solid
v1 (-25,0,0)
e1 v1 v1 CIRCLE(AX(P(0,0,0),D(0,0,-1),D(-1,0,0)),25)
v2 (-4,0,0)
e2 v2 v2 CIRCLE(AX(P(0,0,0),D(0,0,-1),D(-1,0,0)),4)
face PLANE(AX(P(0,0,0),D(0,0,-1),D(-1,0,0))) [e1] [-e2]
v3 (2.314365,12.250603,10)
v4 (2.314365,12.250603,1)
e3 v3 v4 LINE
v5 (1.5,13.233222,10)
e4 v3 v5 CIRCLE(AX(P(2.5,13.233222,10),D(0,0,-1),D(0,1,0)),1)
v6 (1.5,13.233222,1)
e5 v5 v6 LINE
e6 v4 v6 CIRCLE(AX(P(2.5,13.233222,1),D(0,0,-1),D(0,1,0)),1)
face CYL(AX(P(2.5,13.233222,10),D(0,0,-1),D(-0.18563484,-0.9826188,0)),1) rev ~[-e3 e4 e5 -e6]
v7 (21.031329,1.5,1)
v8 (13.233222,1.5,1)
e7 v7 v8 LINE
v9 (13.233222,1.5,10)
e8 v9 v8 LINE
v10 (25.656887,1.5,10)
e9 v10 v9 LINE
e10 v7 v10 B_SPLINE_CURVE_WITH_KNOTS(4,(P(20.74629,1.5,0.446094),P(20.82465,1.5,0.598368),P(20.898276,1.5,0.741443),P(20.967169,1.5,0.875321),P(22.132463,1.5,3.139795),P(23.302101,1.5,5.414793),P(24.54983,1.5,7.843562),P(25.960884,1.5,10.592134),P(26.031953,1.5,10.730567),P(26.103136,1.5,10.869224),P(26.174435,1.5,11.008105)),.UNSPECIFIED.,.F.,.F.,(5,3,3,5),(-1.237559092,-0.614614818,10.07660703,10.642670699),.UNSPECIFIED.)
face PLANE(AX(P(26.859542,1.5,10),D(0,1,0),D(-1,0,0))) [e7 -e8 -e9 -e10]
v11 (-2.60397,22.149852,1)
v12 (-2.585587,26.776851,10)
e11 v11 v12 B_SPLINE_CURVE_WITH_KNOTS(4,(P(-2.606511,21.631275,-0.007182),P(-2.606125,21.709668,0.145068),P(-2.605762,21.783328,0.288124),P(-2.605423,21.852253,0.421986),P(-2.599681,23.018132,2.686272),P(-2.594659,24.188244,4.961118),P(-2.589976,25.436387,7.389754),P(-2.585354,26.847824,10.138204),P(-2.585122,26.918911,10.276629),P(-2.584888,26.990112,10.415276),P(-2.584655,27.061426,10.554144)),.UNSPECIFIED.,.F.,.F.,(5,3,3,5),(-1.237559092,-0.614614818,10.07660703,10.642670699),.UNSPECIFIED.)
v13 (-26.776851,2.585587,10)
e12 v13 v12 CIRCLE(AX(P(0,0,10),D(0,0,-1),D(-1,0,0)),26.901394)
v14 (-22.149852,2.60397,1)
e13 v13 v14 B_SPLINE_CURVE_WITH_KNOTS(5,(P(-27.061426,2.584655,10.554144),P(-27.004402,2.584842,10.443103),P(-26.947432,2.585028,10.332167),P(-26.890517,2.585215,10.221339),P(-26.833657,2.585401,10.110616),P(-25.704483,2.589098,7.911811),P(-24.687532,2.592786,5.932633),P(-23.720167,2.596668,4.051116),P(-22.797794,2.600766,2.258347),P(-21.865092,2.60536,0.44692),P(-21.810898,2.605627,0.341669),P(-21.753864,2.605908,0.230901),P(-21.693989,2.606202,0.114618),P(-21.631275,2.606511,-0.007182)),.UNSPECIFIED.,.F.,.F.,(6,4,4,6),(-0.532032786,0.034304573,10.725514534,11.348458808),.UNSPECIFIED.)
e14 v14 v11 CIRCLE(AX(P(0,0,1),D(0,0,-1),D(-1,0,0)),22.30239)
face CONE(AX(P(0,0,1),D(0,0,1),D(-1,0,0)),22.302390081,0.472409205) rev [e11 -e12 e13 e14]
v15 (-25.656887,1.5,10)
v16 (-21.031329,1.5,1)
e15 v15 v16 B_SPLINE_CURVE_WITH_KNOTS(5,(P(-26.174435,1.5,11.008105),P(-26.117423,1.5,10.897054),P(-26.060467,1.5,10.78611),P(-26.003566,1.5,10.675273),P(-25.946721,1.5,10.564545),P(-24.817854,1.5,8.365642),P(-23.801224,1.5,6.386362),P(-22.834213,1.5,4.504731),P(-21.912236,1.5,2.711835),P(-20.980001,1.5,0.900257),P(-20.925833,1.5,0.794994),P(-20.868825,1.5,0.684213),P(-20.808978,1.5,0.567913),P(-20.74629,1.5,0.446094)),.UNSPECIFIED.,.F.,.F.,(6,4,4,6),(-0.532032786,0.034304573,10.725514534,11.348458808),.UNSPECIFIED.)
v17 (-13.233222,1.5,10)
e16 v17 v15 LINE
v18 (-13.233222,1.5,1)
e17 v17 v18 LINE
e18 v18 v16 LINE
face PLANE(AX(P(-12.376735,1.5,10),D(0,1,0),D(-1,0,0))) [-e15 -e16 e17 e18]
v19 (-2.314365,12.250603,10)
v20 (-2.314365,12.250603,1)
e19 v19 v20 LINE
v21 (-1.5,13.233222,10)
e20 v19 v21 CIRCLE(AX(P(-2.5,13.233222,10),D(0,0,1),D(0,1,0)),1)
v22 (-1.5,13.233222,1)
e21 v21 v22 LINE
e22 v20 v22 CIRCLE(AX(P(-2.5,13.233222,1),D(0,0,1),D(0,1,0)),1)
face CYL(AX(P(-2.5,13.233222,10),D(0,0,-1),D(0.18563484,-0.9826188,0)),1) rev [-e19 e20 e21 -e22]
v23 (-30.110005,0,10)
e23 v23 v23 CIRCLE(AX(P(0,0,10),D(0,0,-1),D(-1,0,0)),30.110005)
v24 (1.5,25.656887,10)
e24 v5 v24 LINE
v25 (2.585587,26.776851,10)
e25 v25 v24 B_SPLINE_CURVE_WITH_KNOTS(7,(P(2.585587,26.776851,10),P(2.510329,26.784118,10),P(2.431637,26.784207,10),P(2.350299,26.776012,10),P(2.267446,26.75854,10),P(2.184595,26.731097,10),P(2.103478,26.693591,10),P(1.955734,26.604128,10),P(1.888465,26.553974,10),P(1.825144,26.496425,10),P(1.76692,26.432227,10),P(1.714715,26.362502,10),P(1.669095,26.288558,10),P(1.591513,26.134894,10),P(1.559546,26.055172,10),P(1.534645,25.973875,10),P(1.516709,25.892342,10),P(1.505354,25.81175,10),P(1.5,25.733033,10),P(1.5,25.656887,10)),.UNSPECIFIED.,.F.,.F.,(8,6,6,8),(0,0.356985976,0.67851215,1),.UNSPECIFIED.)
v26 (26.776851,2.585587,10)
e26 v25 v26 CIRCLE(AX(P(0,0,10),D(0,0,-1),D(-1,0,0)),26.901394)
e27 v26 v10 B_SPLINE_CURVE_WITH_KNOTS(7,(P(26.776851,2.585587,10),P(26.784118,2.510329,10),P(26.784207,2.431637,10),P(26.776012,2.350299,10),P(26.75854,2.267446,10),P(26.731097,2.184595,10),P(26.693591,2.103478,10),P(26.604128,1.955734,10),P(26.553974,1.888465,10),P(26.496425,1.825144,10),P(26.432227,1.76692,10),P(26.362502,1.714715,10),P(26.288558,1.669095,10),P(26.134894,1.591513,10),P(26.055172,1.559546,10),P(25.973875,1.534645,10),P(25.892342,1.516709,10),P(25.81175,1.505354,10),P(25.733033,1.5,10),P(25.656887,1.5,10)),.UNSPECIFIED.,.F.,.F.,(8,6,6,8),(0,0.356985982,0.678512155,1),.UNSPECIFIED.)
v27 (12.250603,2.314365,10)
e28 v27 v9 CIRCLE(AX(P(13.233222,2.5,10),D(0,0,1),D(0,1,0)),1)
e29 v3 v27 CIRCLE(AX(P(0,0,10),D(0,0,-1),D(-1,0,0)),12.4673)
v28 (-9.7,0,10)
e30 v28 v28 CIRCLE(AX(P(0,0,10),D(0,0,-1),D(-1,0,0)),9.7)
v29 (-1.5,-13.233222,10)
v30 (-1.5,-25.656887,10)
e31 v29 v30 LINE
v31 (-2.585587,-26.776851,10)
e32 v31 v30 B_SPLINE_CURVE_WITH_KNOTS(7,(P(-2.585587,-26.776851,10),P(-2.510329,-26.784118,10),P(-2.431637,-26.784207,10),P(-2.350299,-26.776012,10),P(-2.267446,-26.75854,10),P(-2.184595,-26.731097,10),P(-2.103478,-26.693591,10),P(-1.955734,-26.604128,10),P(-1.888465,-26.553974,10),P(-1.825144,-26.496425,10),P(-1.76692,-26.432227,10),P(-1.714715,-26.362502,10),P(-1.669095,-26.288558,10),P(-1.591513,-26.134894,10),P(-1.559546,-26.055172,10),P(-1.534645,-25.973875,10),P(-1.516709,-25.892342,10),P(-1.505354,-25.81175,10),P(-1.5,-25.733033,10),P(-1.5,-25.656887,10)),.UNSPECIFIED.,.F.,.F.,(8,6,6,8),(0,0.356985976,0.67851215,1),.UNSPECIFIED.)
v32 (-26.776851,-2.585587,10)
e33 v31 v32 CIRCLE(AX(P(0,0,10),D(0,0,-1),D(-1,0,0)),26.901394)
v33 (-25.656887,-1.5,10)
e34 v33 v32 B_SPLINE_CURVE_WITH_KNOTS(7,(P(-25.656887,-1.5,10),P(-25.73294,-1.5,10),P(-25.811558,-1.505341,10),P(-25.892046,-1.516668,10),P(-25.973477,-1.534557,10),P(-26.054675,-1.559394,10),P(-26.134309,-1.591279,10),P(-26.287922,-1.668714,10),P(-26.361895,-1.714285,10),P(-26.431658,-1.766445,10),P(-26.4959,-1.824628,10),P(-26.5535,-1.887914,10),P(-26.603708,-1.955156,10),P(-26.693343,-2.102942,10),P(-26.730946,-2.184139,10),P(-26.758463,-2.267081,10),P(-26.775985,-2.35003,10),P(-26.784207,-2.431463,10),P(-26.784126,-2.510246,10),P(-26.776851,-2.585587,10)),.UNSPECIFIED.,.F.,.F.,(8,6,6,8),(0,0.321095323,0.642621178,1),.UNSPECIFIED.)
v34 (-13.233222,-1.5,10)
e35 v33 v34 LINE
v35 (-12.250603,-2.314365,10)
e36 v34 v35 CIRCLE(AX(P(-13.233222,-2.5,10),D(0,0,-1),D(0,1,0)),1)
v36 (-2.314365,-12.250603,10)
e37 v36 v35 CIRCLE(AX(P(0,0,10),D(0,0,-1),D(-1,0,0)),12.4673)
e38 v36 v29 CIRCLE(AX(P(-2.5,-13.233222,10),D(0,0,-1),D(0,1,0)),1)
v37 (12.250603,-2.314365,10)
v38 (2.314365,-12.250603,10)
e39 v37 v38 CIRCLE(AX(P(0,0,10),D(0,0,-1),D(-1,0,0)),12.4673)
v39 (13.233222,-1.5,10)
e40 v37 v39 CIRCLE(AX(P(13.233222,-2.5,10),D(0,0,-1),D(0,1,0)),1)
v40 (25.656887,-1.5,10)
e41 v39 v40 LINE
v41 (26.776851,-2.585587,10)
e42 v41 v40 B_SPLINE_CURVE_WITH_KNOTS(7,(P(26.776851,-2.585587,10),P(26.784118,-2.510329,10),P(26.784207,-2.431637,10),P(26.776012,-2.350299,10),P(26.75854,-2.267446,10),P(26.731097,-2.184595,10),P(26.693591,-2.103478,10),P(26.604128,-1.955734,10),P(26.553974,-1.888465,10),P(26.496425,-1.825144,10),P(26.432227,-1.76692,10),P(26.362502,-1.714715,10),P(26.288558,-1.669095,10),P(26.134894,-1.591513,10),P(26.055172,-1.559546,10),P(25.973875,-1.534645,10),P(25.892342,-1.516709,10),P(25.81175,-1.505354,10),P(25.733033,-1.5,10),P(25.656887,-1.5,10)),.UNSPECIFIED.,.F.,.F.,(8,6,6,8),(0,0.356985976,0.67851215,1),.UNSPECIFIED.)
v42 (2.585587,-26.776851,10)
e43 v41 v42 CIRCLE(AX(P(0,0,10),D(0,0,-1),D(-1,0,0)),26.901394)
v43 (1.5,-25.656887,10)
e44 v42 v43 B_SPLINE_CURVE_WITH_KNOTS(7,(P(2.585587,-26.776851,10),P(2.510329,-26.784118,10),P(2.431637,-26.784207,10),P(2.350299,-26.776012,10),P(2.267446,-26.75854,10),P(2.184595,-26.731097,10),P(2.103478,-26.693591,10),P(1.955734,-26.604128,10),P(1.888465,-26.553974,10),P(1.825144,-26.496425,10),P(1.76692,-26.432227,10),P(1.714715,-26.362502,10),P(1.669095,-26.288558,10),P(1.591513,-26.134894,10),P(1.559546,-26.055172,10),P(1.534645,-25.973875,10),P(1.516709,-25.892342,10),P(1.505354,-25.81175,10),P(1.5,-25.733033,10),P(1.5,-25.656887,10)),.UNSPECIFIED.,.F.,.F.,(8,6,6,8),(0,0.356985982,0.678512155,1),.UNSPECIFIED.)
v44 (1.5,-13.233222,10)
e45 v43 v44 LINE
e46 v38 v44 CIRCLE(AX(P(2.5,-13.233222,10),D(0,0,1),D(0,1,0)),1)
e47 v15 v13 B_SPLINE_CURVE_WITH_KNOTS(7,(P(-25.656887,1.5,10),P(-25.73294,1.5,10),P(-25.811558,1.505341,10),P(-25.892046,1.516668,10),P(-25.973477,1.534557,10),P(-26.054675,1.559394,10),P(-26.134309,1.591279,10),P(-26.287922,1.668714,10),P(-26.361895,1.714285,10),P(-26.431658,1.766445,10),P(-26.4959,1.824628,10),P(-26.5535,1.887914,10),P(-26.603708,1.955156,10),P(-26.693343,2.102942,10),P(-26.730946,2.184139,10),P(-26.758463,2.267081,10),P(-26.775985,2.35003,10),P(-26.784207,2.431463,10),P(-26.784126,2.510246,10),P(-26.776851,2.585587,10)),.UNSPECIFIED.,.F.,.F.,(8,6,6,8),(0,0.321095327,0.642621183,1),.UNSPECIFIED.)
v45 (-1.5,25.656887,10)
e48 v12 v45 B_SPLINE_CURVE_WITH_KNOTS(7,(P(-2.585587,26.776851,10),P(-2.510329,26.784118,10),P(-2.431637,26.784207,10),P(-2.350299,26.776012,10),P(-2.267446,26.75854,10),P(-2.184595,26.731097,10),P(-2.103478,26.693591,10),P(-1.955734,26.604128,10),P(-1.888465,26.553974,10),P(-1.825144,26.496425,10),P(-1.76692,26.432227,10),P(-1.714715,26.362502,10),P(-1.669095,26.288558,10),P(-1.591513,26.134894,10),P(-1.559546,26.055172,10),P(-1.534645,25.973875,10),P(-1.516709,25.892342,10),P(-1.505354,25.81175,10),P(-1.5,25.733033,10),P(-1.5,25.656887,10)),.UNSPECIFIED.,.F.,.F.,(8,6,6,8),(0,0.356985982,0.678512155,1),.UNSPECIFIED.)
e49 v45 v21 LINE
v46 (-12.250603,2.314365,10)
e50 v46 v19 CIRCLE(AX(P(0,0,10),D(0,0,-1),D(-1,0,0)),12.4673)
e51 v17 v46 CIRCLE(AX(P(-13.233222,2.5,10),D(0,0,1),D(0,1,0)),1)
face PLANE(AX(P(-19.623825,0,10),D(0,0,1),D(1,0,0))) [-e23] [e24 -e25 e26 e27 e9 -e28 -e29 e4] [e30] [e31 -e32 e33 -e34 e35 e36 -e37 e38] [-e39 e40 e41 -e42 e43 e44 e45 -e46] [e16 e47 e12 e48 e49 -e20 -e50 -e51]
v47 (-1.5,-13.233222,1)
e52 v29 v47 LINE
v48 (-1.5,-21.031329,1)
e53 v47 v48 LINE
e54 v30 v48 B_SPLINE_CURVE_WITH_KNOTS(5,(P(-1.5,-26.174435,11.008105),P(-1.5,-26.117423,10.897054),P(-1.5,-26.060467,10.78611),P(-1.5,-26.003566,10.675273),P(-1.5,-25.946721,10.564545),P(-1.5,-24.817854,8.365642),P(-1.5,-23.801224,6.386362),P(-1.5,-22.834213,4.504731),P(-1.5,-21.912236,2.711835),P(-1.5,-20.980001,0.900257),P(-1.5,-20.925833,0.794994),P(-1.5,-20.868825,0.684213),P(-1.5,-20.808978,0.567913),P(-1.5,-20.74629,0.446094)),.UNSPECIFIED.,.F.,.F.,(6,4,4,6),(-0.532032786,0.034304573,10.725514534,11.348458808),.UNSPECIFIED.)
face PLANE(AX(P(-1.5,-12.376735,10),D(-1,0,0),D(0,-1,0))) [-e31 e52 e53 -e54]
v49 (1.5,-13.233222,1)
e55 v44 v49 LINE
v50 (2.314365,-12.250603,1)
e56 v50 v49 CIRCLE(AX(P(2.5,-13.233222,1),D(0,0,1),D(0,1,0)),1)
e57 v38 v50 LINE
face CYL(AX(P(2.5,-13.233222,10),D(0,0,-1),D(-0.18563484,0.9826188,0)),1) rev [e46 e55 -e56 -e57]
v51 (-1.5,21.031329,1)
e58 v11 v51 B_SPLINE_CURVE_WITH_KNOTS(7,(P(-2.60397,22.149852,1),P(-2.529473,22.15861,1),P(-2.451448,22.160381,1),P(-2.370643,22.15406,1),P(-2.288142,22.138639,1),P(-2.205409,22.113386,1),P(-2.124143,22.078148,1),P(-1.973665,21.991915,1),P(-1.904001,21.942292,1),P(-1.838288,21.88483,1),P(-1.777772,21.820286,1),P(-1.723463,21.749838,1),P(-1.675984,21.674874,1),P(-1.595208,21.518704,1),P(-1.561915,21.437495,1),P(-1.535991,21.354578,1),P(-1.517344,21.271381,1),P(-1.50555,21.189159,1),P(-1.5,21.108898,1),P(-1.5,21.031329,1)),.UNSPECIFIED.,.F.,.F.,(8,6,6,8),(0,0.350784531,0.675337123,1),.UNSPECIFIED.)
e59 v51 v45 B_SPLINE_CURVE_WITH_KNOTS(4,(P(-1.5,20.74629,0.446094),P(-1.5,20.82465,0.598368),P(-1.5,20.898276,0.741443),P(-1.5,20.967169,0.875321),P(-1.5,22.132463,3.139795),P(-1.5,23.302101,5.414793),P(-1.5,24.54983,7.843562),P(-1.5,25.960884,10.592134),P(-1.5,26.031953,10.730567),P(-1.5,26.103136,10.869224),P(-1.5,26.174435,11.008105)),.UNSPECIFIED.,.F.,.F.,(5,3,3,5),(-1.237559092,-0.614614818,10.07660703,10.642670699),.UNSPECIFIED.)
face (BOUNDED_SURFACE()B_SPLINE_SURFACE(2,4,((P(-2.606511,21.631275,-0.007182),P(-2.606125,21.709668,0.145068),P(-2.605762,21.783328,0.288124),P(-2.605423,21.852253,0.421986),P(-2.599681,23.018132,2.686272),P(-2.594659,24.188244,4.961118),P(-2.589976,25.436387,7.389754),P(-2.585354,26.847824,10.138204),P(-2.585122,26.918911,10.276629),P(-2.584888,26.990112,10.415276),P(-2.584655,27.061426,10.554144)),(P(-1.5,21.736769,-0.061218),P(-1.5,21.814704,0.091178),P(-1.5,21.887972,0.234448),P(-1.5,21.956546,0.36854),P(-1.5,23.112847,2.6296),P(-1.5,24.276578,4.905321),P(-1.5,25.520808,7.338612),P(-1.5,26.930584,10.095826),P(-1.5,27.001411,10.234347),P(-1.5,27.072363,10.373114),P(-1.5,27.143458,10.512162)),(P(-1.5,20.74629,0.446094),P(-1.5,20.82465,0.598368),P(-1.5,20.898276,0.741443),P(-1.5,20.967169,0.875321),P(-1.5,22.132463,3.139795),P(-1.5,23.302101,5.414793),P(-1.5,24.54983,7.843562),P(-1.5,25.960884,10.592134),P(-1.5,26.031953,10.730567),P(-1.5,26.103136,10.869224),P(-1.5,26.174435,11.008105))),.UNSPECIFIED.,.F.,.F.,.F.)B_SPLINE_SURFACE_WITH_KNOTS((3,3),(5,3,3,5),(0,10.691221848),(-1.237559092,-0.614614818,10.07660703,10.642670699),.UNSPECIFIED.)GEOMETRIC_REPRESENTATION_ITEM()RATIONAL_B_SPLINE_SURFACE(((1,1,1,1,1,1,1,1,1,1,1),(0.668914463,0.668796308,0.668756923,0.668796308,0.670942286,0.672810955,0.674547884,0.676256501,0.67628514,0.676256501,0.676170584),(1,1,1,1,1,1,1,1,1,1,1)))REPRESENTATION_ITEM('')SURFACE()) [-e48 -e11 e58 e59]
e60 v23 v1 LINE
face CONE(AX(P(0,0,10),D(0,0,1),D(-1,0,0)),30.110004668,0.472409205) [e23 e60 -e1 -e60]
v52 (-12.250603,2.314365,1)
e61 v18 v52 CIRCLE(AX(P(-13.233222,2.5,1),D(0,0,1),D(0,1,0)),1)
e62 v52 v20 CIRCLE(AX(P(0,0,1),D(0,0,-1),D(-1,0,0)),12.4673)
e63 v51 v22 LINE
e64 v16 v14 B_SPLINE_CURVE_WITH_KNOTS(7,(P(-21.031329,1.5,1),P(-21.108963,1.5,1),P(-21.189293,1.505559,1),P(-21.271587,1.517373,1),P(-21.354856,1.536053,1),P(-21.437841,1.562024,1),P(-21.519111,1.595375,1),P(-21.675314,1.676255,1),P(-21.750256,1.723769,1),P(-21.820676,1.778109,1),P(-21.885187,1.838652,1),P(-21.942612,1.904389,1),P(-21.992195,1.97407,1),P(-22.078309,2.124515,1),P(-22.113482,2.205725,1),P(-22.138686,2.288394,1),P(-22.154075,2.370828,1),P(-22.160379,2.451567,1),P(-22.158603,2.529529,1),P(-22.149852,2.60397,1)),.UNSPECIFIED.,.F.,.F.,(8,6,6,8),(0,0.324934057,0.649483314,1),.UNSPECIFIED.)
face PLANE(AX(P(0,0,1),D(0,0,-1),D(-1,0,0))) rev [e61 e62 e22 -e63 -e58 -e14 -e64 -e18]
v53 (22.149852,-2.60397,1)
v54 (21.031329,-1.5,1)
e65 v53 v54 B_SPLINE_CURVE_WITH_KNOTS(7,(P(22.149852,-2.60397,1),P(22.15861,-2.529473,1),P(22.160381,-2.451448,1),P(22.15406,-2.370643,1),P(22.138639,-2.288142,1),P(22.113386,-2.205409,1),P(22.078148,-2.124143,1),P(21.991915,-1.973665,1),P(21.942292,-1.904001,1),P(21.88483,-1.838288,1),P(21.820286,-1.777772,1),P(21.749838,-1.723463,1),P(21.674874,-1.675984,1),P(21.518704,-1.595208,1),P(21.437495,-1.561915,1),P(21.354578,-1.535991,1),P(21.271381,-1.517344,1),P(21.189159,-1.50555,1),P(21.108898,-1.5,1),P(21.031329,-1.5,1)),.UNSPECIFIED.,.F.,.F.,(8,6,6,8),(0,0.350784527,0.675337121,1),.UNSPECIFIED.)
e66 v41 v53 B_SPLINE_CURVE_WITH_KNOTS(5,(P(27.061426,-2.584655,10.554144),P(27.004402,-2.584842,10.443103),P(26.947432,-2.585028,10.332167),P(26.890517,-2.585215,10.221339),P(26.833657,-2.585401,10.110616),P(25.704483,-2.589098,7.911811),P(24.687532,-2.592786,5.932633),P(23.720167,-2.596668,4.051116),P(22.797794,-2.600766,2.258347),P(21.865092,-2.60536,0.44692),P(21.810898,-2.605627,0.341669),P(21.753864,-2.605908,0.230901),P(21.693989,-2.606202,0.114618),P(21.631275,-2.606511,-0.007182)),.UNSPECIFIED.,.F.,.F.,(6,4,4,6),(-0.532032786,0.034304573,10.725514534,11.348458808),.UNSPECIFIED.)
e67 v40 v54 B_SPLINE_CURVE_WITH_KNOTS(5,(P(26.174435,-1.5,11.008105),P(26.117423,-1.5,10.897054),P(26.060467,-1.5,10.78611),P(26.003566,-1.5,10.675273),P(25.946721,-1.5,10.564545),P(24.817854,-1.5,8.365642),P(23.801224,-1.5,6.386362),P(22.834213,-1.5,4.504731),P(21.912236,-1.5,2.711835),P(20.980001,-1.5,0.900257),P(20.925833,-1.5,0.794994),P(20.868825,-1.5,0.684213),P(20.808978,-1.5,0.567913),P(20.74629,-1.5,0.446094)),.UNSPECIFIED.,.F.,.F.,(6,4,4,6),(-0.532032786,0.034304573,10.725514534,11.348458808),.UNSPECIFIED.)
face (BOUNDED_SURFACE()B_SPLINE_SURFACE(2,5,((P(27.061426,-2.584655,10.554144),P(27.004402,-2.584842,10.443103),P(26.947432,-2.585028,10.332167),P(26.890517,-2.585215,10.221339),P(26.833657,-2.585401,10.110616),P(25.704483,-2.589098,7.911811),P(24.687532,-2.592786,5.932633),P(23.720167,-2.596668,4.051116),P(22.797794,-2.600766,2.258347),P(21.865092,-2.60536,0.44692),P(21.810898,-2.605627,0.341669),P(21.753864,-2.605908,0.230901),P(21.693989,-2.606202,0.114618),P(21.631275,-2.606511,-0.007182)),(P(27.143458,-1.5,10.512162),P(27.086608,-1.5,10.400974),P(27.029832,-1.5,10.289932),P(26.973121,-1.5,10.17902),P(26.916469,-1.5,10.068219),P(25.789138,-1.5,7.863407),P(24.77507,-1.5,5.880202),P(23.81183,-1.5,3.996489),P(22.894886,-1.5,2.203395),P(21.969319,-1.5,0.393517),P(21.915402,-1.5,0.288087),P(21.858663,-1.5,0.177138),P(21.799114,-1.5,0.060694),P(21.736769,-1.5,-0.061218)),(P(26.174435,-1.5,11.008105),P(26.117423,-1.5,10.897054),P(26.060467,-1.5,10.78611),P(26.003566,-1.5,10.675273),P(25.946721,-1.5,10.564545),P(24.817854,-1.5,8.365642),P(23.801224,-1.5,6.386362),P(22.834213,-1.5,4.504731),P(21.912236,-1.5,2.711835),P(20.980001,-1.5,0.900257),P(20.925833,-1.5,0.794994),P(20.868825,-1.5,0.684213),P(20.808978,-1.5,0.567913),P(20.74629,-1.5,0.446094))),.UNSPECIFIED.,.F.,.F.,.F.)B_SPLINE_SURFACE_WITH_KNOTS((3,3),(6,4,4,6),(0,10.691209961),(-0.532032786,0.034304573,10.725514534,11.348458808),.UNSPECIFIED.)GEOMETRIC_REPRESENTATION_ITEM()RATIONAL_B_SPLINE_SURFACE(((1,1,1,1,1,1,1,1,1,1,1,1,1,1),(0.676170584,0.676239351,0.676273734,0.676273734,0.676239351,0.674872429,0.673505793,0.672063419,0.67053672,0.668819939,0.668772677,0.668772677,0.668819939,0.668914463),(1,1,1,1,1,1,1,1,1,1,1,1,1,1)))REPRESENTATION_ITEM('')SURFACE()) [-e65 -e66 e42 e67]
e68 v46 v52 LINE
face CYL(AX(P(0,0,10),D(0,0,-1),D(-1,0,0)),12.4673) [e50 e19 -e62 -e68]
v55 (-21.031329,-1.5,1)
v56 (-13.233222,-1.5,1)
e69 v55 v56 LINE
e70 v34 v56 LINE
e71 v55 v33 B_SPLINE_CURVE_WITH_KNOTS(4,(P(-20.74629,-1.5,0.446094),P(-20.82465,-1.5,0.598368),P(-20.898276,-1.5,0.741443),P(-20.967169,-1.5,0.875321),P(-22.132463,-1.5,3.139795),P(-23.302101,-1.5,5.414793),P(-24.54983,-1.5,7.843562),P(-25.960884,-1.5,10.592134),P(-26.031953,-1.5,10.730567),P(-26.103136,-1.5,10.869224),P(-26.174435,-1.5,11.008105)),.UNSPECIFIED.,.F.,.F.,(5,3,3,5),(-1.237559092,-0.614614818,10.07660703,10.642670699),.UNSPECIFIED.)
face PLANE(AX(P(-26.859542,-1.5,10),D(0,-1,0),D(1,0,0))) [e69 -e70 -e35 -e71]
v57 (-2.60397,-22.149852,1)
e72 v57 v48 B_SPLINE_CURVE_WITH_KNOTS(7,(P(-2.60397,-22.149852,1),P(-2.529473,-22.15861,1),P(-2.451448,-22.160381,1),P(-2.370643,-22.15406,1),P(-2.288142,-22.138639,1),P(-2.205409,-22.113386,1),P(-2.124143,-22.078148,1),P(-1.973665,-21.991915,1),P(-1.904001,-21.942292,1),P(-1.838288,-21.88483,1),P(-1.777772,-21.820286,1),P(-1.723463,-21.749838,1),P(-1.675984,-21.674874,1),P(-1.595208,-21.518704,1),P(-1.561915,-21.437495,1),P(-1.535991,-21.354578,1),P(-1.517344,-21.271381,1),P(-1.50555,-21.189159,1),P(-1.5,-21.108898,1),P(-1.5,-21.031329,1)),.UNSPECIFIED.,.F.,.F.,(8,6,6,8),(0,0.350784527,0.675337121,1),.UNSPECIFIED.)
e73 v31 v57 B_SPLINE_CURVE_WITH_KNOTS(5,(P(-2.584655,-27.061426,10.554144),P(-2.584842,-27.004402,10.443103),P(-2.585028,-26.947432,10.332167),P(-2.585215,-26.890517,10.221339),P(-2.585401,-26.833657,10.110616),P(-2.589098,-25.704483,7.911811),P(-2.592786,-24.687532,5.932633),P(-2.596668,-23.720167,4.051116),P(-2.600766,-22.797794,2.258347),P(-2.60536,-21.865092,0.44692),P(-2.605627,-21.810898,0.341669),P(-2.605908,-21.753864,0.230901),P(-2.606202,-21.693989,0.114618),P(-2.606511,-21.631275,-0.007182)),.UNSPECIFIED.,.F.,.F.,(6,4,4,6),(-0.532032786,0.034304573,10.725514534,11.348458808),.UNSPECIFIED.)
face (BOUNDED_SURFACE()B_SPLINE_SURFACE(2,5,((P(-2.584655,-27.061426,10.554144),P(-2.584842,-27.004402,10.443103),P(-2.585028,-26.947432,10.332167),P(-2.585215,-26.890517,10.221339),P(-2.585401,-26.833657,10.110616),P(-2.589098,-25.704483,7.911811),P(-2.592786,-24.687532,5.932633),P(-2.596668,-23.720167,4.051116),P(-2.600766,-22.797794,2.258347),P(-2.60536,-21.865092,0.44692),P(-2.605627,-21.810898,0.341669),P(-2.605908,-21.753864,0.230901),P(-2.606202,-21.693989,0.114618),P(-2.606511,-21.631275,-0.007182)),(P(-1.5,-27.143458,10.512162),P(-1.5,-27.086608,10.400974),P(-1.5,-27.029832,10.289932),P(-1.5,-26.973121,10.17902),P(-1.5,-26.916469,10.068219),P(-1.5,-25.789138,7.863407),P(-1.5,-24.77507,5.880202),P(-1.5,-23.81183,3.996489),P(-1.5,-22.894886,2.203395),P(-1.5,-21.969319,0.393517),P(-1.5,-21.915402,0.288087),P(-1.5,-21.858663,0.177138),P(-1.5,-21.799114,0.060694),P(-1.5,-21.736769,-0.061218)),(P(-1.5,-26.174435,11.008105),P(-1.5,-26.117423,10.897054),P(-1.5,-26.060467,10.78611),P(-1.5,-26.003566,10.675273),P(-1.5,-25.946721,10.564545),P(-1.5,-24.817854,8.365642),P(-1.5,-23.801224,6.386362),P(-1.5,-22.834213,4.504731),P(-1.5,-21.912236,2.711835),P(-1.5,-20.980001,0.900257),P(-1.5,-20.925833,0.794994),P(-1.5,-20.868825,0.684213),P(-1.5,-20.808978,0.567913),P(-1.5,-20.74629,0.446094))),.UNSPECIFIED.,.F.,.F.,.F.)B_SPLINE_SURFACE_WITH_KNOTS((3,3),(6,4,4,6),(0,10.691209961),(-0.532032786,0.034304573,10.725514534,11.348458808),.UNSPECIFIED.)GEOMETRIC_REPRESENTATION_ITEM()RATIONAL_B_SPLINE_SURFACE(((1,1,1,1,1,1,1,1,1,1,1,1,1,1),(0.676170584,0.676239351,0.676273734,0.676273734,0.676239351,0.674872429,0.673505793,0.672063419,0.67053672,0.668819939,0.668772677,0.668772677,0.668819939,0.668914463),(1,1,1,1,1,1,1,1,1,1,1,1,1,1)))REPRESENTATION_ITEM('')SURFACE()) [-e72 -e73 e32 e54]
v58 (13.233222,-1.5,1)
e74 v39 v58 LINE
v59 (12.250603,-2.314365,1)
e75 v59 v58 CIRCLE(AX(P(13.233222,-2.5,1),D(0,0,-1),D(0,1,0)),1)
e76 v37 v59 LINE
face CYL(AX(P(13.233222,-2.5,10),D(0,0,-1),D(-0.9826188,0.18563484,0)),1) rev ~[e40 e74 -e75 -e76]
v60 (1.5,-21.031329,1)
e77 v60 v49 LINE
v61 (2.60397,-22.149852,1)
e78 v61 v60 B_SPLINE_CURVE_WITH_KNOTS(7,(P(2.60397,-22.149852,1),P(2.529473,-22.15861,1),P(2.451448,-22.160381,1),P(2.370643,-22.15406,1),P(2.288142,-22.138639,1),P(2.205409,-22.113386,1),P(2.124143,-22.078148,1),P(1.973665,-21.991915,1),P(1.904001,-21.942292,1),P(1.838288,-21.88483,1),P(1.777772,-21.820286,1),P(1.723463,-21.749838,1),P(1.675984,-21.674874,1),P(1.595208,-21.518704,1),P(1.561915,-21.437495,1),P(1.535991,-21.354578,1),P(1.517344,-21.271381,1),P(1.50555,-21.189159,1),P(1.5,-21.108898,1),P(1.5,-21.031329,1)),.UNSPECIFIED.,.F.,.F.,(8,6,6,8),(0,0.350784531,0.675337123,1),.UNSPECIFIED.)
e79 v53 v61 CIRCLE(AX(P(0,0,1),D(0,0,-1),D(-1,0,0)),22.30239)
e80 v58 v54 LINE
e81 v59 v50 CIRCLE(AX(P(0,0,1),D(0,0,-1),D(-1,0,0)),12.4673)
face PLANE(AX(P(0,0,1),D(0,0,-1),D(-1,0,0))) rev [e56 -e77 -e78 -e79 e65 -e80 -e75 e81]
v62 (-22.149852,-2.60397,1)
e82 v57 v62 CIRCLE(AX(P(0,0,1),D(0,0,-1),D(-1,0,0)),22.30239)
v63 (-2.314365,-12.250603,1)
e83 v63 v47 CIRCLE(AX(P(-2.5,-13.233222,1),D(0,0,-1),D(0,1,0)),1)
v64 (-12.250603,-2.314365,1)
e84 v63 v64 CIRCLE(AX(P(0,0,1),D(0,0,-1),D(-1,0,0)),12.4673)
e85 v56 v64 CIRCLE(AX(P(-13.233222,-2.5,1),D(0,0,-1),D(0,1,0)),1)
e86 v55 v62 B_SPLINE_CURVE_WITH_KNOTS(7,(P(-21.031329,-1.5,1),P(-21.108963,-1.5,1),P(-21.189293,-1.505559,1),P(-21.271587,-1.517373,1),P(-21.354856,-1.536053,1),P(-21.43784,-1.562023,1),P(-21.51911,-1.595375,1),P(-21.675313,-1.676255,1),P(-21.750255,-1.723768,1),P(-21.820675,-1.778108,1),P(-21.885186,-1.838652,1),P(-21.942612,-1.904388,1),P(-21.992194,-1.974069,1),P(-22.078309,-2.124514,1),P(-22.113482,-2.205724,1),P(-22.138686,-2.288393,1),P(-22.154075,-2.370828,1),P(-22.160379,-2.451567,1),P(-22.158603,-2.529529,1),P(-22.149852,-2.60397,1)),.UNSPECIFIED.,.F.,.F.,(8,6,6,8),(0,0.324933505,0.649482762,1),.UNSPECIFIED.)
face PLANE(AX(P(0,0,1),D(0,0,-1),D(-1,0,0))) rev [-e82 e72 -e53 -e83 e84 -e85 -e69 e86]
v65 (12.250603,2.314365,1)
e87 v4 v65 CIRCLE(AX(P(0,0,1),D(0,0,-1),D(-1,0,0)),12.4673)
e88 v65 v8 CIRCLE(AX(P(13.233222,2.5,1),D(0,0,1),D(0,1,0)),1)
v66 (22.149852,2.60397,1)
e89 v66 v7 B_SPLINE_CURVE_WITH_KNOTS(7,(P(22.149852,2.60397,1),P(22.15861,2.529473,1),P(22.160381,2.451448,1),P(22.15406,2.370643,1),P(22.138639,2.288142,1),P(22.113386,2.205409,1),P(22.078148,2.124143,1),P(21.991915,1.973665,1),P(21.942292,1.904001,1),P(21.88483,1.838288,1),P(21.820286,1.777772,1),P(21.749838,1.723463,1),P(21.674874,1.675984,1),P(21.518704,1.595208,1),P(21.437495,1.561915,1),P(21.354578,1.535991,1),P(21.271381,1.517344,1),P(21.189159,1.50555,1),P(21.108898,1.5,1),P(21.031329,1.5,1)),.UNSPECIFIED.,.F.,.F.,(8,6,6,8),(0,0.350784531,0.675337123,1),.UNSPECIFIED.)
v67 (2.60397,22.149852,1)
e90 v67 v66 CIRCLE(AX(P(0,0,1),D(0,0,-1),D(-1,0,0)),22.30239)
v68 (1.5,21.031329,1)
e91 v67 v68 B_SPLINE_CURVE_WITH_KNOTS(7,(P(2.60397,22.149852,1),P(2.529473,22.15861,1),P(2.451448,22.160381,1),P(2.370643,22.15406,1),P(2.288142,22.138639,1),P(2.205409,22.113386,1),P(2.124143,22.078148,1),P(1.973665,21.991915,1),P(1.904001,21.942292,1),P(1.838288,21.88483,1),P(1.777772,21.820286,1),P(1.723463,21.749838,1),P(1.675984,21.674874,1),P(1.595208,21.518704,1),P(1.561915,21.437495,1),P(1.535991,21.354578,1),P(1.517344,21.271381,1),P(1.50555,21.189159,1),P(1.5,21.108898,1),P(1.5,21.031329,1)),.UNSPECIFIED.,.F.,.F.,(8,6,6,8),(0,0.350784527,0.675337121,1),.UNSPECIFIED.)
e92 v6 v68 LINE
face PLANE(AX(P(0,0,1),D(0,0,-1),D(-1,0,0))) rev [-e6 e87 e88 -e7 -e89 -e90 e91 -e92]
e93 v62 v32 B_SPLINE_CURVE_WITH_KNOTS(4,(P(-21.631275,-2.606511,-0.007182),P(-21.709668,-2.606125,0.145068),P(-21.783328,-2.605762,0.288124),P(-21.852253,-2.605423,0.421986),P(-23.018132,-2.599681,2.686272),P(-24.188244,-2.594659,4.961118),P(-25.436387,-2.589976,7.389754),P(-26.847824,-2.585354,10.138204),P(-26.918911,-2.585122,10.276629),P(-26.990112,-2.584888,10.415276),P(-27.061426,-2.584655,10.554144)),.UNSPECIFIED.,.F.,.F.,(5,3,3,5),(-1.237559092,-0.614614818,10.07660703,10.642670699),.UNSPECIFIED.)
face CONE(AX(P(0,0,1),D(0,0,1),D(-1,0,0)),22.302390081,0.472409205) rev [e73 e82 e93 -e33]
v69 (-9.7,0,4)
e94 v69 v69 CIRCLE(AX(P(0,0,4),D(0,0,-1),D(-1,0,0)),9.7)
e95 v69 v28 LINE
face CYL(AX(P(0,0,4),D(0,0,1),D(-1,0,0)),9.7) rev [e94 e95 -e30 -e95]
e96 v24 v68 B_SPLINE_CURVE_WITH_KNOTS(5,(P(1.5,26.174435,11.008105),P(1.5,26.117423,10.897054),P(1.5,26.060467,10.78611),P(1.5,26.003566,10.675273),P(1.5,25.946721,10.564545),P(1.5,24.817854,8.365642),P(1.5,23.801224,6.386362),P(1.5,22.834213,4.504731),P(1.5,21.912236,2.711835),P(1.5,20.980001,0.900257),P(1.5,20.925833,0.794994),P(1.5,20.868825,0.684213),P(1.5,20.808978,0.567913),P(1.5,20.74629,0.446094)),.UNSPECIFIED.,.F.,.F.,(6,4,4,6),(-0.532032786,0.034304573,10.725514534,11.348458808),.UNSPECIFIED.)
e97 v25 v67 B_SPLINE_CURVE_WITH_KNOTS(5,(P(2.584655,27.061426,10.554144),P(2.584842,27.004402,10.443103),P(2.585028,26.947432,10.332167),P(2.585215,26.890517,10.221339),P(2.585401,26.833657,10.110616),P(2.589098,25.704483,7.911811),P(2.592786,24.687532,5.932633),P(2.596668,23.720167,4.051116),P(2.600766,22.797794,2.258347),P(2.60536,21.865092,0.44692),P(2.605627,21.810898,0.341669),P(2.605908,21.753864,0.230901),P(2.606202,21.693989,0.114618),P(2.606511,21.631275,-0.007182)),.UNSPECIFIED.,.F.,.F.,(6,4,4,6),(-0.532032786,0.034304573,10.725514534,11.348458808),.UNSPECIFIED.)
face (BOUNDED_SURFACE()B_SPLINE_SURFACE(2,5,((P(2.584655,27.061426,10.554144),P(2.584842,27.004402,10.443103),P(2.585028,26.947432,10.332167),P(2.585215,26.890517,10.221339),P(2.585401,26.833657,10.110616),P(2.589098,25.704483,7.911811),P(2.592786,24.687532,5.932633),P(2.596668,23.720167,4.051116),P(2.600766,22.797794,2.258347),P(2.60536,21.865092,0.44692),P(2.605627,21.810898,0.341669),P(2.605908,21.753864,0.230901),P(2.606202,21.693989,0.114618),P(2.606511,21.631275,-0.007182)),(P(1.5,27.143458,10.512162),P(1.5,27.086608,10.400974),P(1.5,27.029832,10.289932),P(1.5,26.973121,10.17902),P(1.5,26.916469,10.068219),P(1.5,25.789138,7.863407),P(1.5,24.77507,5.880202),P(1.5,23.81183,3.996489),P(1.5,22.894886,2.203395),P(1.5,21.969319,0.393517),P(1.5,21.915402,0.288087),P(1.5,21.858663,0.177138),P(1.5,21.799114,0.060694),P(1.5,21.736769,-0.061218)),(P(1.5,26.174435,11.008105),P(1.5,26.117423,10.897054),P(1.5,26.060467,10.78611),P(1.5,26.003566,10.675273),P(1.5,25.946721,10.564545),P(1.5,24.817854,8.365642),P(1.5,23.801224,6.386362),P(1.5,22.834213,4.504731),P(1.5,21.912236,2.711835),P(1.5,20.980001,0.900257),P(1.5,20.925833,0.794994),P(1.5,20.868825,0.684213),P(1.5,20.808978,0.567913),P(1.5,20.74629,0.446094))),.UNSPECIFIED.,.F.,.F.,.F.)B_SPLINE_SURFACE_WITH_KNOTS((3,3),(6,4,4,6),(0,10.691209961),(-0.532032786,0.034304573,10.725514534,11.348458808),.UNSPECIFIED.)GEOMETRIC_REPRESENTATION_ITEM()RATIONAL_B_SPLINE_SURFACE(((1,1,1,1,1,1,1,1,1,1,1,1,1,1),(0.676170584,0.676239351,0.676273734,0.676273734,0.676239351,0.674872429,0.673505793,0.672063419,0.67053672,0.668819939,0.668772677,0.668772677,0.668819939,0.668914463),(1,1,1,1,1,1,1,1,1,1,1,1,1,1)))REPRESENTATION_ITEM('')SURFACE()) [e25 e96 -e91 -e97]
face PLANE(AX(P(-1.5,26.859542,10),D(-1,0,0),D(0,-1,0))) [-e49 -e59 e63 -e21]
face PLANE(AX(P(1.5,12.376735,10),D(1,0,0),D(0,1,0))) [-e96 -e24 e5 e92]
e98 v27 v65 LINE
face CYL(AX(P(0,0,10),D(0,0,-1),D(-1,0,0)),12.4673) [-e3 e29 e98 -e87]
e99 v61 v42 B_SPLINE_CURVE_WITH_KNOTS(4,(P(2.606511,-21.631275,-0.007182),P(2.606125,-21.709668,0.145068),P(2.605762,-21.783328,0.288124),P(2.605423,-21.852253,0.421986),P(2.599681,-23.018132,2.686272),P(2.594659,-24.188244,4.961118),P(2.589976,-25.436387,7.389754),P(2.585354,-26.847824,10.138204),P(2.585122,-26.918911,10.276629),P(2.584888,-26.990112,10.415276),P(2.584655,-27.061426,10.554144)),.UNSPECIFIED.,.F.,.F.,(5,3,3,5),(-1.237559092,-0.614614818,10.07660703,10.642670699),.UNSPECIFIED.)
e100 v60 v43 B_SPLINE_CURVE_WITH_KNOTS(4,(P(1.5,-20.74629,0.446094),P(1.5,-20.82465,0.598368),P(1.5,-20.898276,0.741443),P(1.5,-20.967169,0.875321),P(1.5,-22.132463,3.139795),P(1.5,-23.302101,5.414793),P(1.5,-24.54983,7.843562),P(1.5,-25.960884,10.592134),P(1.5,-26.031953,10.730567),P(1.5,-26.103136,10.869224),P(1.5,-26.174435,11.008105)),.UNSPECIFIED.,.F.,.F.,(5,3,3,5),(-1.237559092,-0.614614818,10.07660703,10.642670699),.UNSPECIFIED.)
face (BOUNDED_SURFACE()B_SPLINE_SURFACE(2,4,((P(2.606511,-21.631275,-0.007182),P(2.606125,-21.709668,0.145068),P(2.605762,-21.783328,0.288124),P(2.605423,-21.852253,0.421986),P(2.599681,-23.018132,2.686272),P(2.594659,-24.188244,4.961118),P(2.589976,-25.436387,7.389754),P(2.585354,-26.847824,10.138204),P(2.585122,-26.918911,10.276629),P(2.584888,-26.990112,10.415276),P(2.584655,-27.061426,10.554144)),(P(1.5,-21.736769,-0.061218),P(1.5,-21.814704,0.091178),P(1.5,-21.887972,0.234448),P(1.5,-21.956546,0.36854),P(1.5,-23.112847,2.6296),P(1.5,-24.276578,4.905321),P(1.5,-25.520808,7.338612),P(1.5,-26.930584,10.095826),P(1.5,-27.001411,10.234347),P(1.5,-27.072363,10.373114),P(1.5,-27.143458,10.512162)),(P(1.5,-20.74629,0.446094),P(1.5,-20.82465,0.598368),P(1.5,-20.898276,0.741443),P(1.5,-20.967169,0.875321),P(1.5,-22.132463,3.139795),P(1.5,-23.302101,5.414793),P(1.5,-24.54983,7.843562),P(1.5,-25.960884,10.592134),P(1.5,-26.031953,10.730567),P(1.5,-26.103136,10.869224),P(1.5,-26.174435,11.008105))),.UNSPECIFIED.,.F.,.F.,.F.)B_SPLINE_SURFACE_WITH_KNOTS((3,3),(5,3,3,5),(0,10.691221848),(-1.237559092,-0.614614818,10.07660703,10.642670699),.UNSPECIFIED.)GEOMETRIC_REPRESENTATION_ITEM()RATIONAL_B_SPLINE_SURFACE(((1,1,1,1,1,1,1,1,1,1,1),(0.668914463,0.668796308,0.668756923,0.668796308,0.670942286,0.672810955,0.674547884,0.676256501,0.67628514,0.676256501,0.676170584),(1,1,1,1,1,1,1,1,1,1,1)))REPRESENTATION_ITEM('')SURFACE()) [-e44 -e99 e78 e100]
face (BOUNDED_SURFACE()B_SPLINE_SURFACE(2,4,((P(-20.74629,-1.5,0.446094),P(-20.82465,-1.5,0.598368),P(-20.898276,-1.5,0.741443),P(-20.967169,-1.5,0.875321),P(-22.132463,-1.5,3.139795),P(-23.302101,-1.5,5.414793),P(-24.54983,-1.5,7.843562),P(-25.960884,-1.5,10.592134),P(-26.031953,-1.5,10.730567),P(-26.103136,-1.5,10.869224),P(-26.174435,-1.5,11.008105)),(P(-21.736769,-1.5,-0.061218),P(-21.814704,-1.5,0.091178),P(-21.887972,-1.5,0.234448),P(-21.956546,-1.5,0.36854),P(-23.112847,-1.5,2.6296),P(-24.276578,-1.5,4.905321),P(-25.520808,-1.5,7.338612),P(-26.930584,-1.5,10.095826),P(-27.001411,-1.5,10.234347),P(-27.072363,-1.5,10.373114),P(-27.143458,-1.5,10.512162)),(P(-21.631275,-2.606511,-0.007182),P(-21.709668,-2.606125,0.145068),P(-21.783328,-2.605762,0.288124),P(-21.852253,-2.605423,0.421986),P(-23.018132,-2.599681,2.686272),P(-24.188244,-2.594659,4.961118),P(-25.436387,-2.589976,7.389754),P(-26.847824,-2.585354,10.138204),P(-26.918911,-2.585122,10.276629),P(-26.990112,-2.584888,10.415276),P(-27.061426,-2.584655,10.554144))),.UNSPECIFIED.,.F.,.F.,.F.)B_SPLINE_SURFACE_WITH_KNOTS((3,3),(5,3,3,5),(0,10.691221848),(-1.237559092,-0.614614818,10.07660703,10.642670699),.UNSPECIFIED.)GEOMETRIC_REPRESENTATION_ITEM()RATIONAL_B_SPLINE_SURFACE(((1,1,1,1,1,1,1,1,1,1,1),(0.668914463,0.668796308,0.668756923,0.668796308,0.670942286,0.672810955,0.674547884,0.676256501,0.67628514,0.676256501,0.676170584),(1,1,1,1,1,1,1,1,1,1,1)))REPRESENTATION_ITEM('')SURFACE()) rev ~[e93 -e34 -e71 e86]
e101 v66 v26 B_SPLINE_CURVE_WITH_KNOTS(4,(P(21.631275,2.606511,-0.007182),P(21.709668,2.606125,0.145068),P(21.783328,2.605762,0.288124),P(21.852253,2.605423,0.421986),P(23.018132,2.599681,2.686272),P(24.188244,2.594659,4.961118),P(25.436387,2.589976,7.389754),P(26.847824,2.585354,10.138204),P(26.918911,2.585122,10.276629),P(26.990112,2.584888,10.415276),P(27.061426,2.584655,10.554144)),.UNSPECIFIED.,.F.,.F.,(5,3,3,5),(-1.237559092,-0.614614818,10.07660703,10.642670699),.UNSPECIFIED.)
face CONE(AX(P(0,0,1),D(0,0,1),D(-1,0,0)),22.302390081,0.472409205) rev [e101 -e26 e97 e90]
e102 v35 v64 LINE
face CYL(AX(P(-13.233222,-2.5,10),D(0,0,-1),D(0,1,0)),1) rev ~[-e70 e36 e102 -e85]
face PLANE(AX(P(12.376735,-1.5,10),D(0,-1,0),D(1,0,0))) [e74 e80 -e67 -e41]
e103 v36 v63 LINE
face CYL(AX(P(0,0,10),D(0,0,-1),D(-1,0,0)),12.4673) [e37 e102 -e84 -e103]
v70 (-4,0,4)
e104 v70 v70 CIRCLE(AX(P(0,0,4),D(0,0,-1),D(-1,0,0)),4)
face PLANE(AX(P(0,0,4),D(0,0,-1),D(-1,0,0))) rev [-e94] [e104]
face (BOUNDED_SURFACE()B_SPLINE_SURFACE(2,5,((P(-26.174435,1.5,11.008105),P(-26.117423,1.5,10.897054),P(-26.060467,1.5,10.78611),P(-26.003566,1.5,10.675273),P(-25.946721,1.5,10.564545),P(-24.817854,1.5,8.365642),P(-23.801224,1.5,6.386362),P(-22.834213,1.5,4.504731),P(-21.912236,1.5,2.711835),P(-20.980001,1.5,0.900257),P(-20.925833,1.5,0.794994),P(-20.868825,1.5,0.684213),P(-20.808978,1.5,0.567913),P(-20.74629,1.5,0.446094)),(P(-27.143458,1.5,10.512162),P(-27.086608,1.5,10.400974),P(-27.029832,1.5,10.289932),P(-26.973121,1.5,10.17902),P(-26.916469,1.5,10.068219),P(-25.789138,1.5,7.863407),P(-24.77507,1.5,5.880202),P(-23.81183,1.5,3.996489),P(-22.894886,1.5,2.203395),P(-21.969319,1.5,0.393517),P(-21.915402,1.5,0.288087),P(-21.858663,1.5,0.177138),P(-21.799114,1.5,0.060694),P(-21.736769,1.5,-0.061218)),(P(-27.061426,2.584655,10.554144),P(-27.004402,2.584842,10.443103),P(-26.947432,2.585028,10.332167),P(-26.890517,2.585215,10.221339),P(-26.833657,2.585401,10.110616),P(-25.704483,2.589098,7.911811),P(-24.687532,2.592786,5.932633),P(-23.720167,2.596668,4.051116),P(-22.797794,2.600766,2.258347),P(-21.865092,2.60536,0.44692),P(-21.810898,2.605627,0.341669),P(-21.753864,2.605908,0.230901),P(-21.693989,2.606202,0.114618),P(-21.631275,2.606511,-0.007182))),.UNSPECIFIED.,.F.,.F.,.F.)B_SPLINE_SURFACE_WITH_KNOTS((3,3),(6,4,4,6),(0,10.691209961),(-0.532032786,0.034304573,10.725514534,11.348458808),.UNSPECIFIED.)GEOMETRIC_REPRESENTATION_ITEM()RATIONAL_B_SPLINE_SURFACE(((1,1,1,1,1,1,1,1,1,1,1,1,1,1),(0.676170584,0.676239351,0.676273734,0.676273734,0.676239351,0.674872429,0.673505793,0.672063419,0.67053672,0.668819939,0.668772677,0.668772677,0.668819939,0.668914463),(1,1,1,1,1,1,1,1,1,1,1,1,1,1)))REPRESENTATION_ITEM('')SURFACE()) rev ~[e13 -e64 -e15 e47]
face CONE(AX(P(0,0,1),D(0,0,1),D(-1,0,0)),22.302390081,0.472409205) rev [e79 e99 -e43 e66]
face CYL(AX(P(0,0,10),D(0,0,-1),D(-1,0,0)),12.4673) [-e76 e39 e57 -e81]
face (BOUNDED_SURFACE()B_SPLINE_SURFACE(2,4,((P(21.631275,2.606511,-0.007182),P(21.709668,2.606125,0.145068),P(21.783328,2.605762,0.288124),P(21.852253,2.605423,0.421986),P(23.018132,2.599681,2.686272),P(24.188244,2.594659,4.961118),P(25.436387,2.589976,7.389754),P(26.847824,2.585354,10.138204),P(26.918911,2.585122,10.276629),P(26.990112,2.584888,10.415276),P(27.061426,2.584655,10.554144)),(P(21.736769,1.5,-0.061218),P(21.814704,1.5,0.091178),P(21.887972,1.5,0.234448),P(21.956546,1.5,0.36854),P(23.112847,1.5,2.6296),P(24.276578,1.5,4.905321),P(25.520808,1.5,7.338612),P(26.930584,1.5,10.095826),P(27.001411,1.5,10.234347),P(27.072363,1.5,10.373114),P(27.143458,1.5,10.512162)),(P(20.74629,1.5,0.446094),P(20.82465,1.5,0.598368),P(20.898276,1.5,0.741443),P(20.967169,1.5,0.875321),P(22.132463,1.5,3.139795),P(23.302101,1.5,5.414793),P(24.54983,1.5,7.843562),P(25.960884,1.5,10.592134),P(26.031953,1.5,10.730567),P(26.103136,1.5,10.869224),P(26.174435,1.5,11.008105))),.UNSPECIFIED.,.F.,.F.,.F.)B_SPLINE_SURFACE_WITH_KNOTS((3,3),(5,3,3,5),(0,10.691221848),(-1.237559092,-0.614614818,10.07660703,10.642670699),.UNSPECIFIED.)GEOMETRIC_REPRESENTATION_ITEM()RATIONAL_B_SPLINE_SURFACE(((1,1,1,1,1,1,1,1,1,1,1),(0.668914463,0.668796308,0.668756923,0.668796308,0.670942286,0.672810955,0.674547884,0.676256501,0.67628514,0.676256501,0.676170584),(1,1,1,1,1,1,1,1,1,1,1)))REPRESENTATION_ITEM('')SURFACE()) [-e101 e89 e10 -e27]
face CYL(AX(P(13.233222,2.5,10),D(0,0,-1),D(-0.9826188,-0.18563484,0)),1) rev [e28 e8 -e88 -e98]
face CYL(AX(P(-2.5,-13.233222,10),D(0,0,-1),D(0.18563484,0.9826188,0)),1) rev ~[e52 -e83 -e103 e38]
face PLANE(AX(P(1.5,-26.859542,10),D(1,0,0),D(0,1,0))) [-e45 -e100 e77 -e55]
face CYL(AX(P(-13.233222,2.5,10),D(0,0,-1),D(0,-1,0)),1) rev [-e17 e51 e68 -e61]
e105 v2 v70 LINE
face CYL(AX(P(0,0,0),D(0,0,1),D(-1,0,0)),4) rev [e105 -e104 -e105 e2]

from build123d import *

# Parameters (mm, degrees)
F4_R = 1


with BuildPart() as f1:
    # F0 (on Front) → F1 (revolve)
    with BuildSketch(Plane.XZ):
        Polygon((-30.1100046678, 10), (-25, 0), (-4, 0), (-4, 4), (-9.7, 4), (-9.7, 10), (-12.467299588, 10), (-12.467299588, 1), (-22.3023900814, 1), (-26.9013942824, 10), align=None)
    revolve(axis=Axis((0, 0, 12.4949840829), (0, 0, -1)))

    # F2 (on face) → F3 (join, up to the next surface of F1)
    with BuildSketch(Plane.XY.offset(10)):
        with BuildLine():
            ThreePointArc((1.5, 26.859542333), (0, 26.9013942824), (-1.5, 26.859542333))
            Line((-1.5, 26.859542333), (-1.5, 12.3767345862))
            ThreePointArc((-1.5, 12.3767345862), (0, 12.467299588), (1.5, 12.3767345862))
            Line((1.5, 12.3767345862), (1.5, 26.859542333))
        make_face()
        with BuildLine():
            Line((26.859542333, 1.5), (12.3767345862, 1.5))
            ThreePointArc((12.3767345862, 1.5), (12.467299588, 0), (12.3767345862, -1.5))
            Line((12.3767345862, -1.5), (26.859542333, -1.5))
            ThreePointArc((26.859542333, -1.5), (26.9013942824, 0), (26.859542333, 1.5))
        make_face()
        with BuildLine():
            Line((-12.3767345862, 1.5), (-26.859542333, 1.5))
            ThreePointArc((-26.859542333, 1.5), (-26.9013942824, 0), (-26.859542333, -1.5))
            Line((-26.859542333, -1.5), (-12.3767345862, -1.5))
            ThreePointArc((-12.3767345862, -1.5), (-12.467299588, 0), (-12.3767345862, 1.5))
        make_face()
        with BuildLine():
            ThreePointArc((1.5, -12.3767345862), (0, -12.467299588), (-1.5, -12.3767345862))
            Line((-1.5, -12.3767345862), (-1.5, -26.859542333))
            ThreePointArc((-1.5, -26.859542333), (0, -26.9013942824), (1.5, -26.859542333))
            Line((1.5, -26.859542333), (1.5, -12.3767345862))
        make_face()
    extrude(until=Until.NEXT, dir=(0, 0, -1))

    # F4
    f4_edges = [f1.edges().sort_by_distance(p)[0] for p in [
        (-1.5, 24.556037, 5.499836),
        (1.5, 24.556037, 5.499836),
        (-24.556037, 1.5, 5.499836),
        (-24.556037, -1.5, 5.499836),
        (-1.5, -24.556037, 5.499836),
        (24.556037, 1.5, 5.499836),
        (24.556037, -1.5, 5.499836),
        (1.5, -24.556037, 5.499836),
        (1.5, 12.376735, 5.5),
        (12.376735, 1.5, 5.5),
        (12.376735, -1.5, 5.5),
        (1.5, -12.376735, 5.5),
        (-1.5, -12.376735, 5.5),
        (-12.376735, -1.5, 5.5),
        (-12.376735, 1.5, 5.5),
        (-1.5, 12.376735, 5.5),
    ]]
    fillet(f4_edges, radius=F4_R)


solid = f1.part
